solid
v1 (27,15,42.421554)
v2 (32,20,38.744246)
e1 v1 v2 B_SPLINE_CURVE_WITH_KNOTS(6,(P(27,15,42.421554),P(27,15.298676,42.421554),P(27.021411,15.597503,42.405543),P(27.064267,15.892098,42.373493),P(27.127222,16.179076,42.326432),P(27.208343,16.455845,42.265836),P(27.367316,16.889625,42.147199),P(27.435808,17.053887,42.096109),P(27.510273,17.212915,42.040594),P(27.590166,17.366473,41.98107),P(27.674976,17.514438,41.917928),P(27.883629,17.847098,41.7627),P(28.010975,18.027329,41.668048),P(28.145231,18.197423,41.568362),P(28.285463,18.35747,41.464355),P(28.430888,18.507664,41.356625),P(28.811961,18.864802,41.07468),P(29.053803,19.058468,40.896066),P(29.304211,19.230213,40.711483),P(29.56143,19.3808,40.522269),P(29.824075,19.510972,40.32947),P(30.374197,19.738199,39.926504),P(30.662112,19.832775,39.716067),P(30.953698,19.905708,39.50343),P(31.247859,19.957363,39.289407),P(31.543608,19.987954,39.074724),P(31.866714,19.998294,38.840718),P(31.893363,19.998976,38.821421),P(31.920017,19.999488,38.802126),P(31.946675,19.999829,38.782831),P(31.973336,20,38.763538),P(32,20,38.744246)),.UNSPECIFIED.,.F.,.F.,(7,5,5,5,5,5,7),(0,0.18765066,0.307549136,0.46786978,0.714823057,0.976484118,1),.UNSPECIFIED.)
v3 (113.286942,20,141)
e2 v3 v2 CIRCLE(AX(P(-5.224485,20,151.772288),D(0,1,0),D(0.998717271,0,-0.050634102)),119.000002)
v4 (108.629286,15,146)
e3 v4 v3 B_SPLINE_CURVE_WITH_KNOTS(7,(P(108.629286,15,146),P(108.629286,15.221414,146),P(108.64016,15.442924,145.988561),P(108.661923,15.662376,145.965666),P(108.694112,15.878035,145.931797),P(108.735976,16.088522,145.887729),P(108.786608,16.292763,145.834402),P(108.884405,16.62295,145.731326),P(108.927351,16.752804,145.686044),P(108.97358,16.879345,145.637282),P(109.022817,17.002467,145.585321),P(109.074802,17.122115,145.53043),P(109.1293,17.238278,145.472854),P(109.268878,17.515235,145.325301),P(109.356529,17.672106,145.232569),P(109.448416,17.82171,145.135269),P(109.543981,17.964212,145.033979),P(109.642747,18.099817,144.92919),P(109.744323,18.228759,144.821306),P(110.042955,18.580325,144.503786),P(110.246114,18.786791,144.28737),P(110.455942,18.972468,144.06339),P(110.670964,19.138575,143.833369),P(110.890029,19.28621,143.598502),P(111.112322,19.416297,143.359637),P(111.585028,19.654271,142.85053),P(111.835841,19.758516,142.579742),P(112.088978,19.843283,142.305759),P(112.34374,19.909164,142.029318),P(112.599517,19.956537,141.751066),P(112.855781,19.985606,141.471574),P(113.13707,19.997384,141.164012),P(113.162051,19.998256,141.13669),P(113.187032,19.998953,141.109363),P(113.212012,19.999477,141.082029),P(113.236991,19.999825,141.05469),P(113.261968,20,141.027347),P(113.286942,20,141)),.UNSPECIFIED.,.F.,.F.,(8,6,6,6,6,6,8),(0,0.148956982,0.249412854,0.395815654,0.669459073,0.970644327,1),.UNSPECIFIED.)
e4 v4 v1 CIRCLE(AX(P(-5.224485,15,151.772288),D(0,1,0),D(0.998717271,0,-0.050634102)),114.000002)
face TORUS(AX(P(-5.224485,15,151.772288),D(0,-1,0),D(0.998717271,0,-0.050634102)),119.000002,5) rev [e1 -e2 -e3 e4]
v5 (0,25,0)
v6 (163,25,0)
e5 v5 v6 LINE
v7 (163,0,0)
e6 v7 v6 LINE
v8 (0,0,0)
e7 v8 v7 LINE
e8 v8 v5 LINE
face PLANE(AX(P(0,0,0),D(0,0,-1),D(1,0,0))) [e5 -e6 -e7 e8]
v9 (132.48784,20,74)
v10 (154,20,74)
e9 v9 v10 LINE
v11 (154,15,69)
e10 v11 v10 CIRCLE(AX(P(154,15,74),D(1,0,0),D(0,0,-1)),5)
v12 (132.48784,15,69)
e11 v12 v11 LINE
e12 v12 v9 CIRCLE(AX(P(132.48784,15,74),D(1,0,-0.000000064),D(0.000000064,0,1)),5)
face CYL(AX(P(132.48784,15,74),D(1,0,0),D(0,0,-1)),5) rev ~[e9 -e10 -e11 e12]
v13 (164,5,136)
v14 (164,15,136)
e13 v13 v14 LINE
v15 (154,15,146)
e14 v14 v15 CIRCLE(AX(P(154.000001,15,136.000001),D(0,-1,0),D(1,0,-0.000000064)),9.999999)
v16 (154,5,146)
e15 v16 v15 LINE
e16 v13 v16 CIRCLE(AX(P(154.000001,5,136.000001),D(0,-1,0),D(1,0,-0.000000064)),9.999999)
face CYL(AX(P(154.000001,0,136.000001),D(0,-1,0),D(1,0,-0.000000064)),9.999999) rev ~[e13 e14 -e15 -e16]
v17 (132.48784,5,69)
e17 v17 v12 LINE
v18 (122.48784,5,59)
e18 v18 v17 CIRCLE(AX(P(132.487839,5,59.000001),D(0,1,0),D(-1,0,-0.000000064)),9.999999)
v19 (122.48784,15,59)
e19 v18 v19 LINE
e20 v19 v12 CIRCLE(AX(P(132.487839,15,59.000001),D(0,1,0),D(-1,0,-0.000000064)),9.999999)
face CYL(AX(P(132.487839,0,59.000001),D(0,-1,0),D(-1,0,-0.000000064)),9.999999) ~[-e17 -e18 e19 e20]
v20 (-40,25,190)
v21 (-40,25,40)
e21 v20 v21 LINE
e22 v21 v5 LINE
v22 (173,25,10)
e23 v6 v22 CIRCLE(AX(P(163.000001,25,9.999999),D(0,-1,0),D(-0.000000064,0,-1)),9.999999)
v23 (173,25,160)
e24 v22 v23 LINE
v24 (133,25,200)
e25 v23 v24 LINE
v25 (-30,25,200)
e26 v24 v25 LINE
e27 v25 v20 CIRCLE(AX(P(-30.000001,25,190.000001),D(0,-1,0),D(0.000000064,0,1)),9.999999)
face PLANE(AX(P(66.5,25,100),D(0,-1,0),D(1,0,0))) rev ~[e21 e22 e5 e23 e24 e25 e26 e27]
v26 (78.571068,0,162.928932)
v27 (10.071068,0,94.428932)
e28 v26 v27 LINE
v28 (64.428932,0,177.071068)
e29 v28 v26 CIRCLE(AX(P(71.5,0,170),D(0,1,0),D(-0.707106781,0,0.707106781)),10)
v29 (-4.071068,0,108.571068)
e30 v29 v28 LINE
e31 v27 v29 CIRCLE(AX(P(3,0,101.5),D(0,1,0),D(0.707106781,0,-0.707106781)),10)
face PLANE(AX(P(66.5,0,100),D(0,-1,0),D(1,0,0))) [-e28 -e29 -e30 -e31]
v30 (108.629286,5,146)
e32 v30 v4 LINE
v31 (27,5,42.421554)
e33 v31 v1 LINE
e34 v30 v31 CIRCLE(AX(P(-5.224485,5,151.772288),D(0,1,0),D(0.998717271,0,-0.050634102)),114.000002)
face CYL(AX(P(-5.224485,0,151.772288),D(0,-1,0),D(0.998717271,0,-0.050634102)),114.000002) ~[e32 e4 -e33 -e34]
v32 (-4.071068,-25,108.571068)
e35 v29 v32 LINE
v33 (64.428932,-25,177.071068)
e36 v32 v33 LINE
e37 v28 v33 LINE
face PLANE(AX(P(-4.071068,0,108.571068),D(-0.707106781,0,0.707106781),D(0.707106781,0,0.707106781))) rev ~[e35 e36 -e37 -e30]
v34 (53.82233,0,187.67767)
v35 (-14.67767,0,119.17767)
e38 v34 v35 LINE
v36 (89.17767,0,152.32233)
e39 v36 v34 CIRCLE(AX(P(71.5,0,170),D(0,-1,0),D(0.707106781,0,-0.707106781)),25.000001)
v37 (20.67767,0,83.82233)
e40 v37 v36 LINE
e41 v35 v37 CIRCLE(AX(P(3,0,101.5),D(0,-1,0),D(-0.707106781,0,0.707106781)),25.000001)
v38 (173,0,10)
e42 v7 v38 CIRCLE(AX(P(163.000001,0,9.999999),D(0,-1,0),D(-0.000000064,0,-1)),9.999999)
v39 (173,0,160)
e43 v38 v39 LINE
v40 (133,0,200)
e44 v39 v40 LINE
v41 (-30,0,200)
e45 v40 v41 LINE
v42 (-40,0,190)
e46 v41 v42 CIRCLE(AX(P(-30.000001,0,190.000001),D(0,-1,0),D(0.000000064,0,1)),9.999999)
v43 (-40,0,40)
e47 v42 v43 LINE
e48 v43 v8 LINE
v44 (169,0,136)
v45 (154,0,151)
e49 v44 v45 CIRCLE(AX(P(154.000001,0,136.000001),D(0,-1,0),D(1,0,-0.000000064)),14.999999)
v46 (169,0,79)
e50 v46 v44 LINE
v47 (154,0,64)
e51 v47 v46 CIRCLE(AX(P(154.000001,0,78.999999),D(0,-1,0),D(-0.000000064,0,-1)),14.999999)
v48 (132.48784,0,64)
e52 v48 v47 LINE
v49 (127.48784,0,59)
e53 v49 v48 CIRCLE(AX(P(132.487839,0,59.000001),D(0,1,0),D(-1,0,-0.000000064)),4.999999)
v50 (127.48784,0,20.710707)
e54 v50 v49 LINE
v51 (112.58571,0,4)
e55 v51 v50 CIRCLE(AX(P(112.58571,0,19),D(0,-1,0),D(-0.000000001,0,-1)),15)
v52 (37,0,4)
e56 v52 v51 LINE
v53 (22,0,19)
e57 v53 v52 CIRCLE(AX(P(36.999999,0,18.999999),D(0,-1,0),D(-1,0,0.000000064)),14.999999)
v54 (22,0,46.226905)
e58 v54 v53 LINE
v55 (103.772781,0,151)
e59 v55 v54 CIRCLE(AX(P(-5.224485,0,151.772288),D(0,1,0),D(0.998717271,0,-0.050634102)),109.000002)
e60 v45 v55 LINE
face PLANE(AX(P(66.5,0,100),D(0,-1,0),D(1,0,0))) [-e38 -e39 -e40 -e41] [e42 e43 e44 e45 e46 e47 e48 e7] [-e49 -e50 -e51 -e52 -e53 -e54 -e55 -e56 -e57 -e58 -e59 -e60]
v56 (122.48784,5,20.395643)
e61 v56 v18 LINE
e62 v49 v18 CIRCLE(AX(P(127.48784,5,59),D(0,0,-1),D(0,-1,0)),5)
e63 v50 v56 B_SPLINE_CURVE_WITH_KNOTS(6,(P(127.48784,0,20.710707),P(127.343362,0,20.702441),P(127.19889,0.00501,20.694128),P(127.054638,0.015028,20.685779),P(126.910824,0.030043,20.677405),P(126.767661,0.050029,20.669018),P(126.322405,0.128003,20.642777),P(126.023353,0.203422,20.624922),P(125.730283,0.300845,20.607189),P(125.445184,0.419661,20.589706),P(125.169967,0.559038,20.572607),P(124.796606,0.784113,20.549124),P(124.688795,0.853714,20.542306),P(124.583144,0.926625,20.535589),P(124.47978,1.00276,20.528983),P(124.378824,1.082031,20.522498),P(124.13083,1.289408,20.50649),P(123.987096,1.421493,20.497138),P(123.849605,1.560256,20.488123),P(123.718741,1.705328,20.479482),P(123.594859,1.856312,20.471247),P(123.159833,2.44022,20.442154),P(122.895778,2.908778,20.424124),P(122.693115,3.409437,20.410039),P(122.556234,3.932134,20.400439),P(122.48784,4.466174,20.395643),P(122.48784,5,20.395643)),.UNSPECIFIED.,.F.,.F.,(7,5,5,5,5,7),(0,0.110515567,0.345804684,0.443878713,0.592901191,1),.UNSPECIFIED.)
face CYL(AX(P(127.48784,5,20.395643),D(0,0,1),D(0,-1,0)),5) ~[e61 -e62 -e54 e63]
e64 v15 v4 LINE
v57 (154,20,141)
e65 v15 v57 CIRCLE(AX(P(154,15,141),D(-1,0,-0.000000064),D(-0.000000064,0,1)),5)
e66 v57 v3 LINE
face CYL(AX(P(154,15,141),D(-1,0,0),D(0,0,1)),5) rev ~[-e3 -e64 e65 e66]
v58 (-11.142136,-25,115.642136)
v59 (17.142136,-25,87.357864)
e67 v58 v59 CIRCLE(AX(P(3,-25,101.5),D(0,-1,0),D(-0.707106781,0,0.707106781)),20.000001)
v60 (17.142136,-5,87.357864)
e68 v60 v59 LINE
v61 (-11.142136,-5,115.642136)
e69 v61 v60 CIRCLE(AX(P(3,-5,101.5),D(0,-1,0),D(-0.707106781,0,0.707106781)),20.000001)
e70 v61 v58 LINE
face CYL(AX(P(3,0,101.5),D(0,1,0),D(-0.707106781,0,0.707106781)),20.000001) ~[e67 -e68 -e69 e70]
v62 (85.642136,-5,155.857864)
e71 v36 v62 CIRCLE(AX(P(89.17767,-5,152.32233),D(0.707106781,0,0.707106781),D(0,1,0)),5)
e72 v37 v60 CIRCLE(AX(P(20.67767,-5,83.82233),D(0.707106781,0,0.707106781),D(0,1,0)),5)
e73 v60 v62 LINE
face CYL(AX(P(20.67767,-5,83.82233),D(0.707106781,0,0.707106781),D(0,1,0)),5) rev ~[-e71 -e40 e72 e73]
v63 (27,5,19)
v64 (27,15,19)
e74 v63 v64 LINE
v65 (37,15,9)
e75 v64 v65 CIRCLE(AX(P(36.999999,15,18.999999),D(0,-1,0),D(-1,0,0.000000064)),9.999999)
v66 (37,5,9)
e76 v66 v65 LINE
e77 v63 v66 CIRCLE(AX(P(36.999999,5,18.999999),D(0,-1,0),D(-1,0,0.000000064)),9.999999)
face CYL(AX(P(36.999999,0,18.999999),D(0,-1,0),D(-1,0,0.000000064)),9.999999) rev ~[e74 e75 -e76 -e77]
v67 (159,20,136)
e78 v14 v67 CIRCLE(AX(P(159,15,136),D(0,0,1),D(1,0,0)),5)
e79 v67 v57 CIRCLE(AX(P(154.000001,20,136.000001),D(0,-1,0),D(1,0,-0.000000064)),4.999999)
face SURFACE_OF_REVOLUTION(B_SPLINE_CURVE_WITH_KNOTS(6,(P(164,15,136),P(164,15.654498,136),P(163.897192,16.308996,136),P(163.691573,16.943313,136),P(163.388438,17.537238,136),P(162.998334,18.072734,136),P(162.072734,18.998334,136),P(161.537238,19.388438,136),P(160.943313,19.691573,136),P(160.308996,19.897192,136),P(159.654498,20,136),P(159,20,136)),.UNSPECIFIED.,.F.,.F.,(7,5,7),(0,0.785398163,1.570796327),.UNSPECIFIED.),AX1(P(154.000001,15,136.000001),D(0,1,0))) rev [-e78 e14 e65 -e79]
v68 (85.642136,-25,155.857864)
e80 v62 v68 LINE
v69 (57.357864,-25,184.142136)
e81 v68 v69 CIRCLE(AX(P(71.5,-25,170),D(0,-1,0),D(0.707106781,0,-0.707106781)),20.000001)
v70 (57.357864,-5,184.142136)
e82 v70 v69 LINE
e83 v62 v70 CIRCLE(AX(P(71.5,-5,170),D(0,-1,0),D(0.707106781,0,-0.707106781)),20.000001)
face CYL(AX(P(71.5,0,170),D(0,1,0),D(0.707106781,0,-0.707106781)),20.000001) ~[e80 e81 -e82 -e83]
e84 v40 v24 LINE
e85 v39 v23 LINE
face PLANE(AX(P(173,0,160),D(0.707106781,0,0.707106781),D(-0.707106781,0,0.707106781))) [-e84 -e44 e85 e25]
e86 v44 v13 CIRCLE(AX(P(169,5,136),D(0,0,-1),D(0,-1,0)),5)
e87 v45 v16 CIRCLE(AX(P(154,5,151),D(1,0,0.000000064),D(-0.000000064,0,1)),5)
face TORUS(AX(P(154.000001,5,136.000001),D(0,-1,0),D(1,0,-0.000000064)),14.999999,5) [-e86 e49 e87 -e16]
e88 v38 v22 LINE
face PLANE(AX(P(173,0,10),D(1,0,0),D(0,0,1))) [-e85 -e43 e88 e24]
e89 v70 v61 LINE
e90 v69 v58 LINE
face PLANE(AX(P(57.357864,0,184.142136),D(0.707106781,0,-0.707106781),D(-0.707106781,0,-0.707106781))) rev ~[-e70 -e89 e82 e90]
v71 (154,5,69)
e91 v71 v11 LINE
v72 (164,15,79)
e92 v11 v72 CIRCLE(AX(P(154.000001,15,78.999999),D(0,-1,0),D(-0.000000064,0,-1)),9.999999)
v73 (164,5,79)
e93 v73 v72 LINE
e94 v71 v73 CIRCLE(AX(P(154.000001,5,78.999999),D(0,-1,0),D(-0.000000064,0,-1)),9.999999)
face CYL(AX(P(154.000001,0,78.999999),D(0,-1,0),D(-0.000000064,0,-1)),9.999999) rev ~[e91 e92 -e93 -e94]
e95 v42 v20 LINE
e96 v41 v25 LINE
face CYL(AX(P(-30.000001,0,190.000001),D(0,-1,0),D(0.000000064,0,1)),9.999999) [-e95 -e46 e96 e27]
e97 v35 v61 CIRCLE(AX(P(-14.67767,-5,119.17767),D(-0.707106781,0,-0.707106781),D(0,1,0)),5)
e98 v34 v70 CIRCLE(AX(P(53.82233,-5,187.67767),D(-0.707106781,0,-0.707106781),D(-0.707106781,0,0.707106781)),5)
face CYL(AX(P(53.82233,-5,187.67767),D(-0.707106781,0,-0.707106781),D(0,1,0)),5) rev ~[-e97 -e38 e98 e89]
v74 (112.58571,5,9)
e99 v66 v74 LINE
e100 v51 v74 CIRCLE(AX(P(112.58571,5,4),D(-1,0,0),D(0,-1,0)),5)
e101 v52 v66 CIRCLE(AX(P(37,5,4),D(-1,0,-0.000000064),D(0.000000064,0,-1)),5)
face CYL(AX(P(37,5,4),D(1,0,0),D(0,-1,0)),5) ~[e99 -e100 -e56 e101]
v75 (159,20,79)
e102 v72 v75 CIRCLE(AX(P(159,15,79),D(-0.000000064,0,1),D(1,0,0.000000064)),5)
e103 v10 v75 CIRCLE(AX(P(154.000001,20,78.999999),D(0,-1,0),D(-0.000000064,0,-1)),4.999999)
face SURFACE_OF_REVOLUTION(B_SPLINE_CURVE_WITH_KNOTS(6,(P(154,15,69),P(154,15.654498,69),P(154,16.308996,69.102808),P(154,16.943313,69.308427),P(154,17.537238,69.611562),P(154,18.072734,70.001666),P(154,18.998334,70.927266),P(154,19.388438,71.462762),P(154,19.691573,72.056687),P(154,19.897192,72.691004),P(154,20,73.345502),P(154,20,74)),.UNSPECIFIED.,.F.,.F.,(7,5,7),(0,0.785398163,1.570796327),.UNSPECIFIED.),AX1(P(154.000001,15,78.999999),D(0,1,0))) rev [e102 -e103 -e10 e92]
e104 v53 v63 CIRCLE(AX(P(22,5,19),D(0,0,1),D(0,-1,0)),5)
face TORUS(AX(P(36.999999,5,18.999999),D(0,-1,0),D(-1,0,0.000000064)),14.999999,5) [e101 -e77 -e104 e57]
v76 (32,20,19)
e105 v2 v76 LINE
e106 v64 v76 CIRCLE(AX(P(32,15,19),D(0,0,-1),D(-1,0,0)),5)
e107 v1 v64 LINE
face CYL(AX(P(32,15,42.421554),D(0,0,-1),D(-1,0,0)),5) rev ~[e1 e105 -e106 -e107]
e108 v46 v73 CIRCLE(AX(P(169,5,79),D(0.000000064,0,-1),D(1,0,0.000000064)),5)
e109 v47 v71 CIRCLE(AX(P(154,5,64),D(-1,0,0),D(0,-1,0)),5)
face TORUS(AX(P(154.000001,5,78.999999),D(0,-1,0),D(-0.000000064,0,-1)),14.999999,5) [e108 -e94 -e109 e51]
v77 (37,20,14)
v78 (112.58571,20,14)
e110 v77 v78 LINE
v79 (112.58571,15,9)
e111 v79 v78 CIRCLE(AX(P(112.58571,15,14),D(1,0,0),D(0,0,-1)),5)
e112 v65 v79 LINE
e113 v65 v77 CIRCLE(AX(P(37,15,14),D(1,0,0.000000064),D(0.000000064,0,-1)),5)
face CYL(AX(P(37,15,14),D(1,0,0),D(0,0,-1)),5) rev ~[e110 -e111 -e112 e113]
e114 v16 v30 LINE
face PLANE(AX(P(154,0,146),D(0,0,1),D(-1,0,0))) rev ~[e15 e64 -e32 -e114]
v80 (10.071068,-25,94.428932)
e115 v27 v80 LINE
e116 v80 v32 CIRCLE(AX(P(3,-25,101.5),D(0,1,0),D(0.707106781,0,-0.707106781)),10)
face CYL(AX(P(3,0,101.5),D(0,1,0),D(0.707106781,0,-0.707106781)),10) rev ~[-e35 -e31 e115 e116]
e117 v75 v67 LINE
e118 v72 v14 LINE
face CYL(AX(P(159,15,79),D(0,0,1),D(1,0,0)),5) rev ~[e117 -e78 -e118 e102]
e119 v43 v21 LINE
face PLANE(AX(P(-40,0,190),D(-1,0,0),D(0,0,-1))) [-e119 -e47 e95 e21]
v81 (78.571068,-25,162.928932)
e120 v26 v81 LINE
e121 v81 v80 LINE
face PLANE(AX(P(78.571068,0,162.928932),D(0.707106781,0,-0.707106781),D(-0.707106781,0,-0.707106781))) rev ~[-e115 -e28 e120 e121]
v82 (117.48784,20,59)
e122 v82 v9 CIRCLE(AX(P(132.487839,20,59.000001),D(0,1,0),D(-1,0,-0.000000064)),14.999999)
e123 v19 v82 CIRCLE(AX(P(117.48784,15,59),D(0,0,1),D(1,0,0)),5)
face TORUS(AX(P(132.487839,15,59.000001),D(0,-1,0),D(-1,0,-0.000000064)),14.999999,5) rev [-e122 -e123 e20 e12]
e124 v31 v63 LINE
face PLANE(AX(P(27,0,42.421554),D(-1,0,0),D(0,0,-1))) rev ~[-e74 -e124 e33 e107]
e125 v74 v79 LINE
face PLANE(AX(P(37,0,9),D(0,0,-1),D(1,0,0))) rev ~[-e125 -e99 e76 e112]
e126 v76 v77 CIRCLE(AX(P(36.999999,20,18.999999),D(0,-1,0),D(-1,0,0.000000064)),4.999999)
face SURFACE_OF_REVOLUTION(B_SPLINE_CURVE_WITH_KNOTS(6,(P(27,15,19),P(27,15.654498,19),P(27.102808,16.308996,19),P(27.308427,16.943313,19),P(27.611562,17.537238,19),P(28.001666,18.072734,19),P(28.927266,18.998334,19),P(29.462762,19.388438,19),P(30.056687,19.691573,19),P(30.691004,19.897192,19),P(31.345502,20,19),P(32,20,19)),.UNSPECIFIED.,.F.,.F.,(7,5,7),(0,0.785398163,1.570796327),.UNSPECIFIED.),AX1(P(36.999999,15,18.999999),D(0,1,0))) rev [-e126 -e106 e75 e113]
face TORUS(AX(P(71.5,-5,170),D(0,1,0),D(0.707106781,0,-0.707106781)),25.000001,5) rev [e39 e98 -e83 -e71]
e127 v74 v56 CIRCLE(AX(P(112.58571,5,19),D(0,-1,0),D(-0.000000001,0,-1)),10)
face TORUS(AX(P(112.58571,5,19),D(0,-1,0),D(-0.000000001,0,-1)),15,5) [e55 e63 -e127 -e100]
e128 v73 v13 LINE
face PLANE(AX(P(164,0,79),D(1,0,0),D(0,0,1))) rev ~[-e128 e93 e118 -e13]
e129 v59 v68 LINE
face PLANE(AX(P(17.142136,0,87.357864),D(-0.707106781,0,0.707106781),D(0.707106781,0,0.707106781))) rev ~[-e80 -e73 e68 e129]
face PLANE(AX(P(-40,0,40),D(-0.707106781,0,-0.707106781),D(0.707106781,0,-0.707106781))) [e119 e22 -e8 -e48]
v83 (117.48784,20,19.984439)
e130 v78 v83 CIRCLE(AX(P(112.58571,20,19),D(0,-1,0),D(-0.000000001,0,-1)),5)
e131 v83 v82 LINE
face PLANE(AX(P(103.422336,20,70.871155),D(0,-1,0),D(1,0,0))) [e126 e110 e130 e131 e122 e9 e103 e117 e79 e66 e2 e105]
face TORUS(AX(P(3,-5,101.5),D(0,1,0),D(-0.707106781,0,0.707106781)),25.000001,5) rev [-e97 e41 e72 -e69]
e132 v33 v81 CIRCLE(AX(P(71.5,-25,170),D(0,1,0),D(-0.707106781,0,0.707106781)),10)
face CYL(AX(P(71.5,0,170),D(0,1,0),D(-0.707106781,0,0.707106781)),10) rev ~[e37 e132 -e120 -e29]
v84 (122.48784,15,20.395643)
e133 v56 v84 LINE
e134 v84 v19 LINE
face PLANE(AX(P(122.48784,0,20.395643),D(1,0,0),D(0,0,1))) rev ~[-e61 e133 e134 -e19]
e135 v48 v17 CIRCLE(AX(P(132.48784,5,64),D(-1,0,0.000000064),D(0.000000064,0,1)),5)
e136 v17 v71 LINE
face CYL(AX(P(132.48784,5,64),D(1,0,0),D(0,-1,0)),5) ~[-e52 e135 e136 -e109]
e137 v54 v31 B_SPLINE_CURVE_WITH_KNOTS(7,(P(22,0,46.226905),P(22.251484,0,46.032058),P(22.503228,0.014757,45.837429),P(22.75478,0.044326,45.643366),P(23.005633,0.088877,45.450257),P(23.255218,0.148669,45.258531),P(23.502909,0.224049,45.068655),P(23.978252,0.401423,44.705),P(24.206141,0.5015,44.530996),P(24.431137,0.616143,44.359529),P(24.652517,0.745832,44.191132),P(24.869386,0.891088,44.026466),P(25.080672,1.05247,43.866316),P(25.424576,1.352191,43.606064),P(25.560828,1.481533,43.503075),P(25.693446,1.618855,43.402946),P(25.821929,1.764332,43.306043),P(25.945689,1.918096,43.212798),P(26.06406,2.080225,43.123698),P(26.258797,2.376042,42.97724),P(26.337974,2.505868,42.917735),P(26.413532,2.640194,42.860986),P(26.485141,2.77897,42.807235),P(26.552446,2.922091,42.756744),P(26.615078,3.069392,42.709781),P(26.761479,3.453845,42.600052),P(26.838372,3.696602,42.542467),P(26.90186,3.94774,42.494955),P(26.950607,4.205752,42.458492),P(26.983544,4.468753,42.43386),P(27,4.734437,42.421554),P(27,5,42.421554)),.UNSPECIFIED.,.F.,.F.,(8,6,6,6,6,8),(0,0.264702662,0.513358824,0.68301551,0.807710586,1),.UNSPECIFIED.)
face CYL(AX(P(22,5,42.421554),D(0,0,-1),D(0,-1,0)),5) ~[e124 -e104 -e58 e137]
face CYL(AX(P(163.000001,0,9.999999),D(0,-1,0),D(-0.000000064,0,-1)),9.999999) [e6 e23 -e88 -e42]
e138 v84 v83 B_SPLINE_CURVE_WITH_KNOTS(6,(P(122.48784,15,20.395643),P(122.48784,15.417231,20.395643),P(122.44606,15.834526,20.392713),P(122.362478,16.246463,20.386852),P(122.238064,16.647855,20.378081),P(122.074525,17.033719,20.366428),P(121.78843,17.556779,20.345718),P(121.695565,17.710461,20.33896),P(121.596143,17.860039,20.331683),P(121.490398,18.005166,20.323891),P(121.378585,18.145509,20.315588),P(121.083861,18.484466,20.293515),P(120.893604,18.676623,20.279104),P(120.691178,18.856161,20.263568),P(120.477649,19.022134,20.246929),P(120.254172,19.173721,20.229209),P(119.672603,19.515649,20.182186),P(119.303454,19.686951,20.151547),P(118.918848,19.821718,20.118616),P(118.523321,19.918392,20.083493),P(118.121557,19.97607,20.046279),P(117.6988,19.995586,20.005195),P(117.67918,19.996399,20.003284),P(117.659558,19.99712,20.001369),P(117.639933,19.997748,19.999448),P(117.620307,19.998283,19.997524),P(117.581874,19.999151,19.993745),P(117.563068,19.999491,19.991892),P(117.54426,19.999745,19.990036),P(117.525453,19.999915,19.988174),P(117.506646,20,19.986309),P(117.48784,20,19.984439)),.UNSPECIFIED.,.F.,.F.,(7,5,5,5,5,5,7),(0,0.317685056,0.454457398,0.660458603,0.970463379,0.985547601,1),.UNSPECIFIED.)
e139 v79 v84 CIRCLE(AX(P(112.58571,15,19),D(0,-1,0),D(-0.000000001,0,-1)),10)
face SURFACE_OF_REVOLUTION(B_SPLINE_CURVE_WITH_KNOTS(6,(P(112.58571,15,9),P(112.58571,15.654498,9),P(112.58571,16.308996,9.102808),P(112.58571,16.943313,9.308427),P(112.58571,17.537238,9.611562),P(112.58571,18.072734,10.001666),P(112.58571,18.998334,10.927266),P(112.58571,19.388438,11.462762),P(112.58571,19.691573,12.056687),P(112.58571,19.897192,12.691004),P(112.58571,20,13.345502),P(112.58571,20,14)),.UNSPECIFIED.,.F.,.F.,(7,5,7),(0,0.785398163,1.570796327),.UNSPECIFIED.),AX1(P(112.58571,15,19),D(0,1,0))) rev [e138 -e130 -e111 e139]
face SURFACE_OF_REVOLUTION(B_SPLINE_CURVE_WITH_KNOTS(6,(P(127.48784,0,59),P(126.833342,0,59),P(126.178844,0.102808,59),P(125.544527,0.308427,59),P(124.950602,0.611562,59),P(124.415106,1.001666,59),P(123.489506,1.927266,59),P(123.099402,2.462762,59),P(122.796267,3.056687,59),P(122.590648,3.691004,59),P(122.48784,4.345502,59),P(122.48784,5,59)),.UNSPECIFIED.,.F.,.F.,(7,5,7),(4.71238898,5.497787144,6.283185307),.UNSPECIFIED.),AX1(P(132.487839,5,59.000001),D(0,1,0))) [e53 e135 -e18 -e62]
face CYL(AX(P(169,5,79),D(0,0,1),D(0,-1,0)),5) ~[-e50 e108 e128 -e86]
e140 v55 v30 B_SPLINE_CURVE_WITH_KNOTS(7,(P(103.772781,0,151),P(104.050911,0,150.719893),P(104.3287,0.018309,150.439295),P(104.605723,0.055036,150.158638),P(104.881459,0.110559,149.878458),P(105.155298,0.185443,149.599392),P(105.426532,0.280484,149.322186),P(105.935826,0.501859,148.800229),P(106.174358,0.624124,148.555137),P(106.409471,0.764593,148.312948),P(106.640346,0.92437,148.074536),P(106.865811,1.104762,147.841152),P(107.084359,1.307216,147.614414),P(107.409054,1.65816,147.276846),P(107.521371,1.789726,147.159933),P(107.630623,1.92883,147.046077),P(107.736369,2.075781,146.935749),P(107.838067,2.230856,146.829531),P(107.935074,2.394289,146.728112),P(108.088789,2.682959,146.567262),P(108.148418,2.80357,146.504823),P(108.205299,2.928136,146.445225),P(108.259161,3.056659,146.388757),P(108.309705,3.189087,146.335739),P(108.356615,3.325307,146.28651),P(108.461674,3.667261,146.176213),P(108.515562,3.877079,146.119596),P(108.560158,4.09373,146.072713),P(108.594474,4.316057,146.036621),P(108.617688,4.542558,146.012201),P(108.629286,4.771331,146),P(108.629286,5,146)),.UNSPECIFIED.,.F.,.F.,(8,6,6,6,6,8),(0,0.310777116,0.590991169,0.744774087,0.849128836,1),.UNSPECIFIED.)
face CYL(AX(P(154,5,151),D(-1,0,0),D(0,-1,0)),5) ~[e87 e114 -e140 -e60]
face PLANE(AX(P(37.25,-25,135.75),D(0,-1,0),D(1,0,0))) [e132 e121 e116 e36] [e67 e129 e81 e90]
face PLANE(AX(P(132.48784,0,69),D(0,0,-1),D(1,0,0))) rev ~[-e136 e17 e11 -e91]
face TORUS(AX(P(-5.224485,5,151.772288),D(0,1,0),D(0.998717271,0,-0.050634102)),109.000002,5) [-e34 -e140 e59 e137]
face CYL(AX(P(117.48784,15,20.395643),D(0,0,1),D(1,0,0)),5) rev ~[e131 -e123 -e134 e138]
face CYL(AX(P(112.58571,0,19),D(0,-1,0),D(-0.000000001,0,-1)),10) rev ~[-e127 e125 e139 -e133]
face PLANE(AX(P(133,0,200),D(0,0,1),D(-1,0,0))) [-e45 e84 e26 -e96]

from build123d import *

# Parameters (mm, degrees)
F1_DEPTH = 25
F2_DEPTH = 25
F3_DEPTH = 20
F4_R     = 5


with BuildPart() as f1:
    # F0 (on Front) → F1 (new body)
    with BuildSketch(Plane.XZ):
        with BuildLine():
            Line((-40, 40), (0, 0))
            Line((0, 0), (163, 0))
            ThreePointArc((163, 0), (170.071068, 2.928932), (173, 10))
            Line((173, 10), (173, 160))
            Line((173, 160), (133, 200))
            Line((133, 200), (-30, 200))
            ThreePointArc((-30, 200), (-37.071068, 197.071068), (-40, 190))
            Line((-40, 190), (-40, 40))
        make_face()
        with BuildLine():
            Line((112.58571, 9), (37, 9))
            ThreePointArc((37, 9), (29.928932, 11.928932), (27, 19))
            Line((27, 19), (27, 42.421554))
            ThreePointArc((27, 42.421554), (84.312311, 81.209106), (108.629286, 146))
            Line((108.629286, 146), (154, 146))
            ThreePointArc((154, 146), (161.071068, 143.071068), (164, 136))
            Line((164, 136), (164, 79))
            ThreePointArc((164, 79), (161.071068, 71.928932), (154, 69))
            Line((154, 69), (132.48784, 69))
            ThreePointArc((132.48784, 69), (125.416772, 66.071068), (122.48784, 59))
            Line((122.48784, 59), (122.48784, 20.395643))
            ThreePointArc((122.48784, 20.395643), (120.134101, 12.4409), (112.58571, 9))
        make_face(mode=Mode.SUBTRACT)
        with BuildLine():
            ThreePointArc((17.142136, 87.357864), (-11.142136, 87.357864), (-11.142136, 115.642136))
            Line((-11.142136, 115.642136), (57.357864, 184.142136))
            ThreePointArc((57.357864, 184.142136), (85.642136, 184.142136), (85.642136, 155.857864))
            Line((85.642136, 155.857864), (17.142136, 87.357864))
        make_face(mode=Mode.SUBTRACT)
        with BuildLine():
            ThreePointArc((27, 19), (29.928932, 11.928932), (37, 9))
            Line((37, 9), (112.58571, 9))
            ThreePointArc((112.58571, 9), (120.134101, 12.4409), (122.48784, 20.395643))
            Line((122.48784, 20.395643), (122.48784, 59))
            ThreePointArc((122.48784, 59), (125.416772, 66.071068), (132.48784, 69))
            Line((132.48784, 69), (154, 69))
            ThreePointArc((154, 69), (161.071068, 71.928932), (164, 79))
            Line((164, 79), (164, 136))
            ThreePointArc((164, 136), (161.071068, 143.071068), (154, 146))
            Line((154, 146), (108.629286, 146))
            ThreePointArc((108.629286, 146), (84.312311, 81.209106), (27, 42.421554))
            Line((27, 42.421554), (27, 19))
        make_face()
        with BuildLine():
            Line((57.357864, 184.142136), (-11.142136, 115.642136))
            ThreePointArc((-11.142136, 115.642136), (-11.142136, 87.357864), (17.142136, 87.357864))
            Line((17.142136, 87.357864), (85.642136, 155.857864))
            ThreePointArc((85.642136, 155.857864), (85.642136, 184.142136), (57.357864, 184.142136))
        make_face()
        with BuildLine():
            ThreePointArc((64.428932, 177.071068), (78.571068, 177.071068), (78.571068, 162.928932))
            Line((78.571068, 162.928932), (66.323619, 150.681483))
            Line((66.323619, 150.681483), (10.071068, 94.428932))
            ThreePointArc((10.071068, 94.428932), (-4.071068, 94.428932), (-4.071068, 108.571068))
            Line((-4.071068, 108.571068), (52.181483, 164.823619))
            Line((52.181483, 164.823619), (64.428932, 177.071068))
        make_face(mode=Mode.SUBTRACT)
        with BuildLine():
            Line((10.071068, 94.428932), (66.323619, 150.681483))
            ThreePointArc((66.323619, 150.681483), (57.357864, 155.857864), (52.181483, 164.823619))
            Line((52.181483, 164.823619), (-4.071068, 108.571068))
            ThreePointArc((-4.071068, 108.571068), (-4.071068, 94.428932), (10.071068, 94.428932))
        make_face()
        with BuildLine():
            Line((66.323619, 150.681483), (78.571068, 162.928932))
            ThreePointArc((78.571068, 162.928932), (78.571068, 177.071068), (64.428932, 177.071068))
            Line((64.428932, 177.071068), (52.181483, 164.823619))
            ThreePointArc((52.181483, 164.823619), (57.357864, 155.857864), (66.323619, 150.681483))
        make_face()
    extrude(amount=-F1_DEPTH)

    # F0 (on Front) → F2 (join)
    with BuildSketch(Plane.XZ):
        with BuildLine():
            Line((57.357864, 184.142136), (-11.142136, 115.642136))
            ThreePointArc((-11.142136, 115.642136), (-11.142136, 87.357864), (17.142136, 87.357864))
            Line((17.142136, 87.357864), (85.642136, 155.857864))
            ThreePointArc((85.642136, 155.857864), (85.642136, 184.142136), (57.357864, 184.142136))
        make_face()
        with BuildLine():
            ThreePointArc((64.428932, 177.071068), (78.571068, 177.071068), (78.571068, 162.928932))
            Line((78.571068, 162.928932), (66.323619, 150.681483))
            Line((66.323619, 150.681483), (10.071068, 94.428932))
            ThreePointArc((10.071068, 94.428932), (-4.071068, 94.428932), (-4.071068, 108.571068))
            Line((-4.071068, 108.571068), (52.181483, 164.823619))
            Line((52.181483, 164.823619), (64.428932, 177.071068))
        make_face(mode=Mode.SUBTRACT)
    extrude(amount=F2_DEPTH)

    # F0 (on Front) → F3 (cut)
    with BuildSketch(Plane.XZ):
        with BuildLine():
            ThreePointArc((27, 19), (29.928932, 11.928932), (37, 9))
            Line((37, 9), (112.58571, 9))
            ThreePointArc((112.58571, 9), (120.134101, 12.4409), (122.48784, 20.395643))
            Line((122.48784, 20.395643), (122.48784, 59))
            ThreePointArc((122.48784, 59), (125.416772, 66.071068), (132.48784, 69))
            Line((132.48784, 69), (154, 69))
            ThreePointArc((154, 69), (161.071068, 71.928932), (164, 79))
            Line((164, 79), (164, 136))
            ThreePointArc((164, 136), (161.071068, 143.071068), (154, 146))
            Line((154, 146), (108.629286, 146))
            ThreePointArc((108.629286, 146), (84.312311, 81.209106), (27, 42.421554))
            Line((27, 42.421554), (27, 19))
        make_face()
    extrude(amount=-F3_DEPTH, mode=Mode.SUBTRACT)

    # F4
    f4_edges = [f1.edges().sort_by_distance(p)[0] for p in [
        (51.392136, 0, 121.607864),
        (84.312311, 0, 81.209106),
        (84.312311, 20, 81.209106),
        (131.314643, 20, 146),
        (131.314643, 0, 146),
        (27, 0, 30.710777),
        (27, 20, 30.710777),
    ]]
    fillet(f4_edges, radius=F4_R)


solid = f1.part
